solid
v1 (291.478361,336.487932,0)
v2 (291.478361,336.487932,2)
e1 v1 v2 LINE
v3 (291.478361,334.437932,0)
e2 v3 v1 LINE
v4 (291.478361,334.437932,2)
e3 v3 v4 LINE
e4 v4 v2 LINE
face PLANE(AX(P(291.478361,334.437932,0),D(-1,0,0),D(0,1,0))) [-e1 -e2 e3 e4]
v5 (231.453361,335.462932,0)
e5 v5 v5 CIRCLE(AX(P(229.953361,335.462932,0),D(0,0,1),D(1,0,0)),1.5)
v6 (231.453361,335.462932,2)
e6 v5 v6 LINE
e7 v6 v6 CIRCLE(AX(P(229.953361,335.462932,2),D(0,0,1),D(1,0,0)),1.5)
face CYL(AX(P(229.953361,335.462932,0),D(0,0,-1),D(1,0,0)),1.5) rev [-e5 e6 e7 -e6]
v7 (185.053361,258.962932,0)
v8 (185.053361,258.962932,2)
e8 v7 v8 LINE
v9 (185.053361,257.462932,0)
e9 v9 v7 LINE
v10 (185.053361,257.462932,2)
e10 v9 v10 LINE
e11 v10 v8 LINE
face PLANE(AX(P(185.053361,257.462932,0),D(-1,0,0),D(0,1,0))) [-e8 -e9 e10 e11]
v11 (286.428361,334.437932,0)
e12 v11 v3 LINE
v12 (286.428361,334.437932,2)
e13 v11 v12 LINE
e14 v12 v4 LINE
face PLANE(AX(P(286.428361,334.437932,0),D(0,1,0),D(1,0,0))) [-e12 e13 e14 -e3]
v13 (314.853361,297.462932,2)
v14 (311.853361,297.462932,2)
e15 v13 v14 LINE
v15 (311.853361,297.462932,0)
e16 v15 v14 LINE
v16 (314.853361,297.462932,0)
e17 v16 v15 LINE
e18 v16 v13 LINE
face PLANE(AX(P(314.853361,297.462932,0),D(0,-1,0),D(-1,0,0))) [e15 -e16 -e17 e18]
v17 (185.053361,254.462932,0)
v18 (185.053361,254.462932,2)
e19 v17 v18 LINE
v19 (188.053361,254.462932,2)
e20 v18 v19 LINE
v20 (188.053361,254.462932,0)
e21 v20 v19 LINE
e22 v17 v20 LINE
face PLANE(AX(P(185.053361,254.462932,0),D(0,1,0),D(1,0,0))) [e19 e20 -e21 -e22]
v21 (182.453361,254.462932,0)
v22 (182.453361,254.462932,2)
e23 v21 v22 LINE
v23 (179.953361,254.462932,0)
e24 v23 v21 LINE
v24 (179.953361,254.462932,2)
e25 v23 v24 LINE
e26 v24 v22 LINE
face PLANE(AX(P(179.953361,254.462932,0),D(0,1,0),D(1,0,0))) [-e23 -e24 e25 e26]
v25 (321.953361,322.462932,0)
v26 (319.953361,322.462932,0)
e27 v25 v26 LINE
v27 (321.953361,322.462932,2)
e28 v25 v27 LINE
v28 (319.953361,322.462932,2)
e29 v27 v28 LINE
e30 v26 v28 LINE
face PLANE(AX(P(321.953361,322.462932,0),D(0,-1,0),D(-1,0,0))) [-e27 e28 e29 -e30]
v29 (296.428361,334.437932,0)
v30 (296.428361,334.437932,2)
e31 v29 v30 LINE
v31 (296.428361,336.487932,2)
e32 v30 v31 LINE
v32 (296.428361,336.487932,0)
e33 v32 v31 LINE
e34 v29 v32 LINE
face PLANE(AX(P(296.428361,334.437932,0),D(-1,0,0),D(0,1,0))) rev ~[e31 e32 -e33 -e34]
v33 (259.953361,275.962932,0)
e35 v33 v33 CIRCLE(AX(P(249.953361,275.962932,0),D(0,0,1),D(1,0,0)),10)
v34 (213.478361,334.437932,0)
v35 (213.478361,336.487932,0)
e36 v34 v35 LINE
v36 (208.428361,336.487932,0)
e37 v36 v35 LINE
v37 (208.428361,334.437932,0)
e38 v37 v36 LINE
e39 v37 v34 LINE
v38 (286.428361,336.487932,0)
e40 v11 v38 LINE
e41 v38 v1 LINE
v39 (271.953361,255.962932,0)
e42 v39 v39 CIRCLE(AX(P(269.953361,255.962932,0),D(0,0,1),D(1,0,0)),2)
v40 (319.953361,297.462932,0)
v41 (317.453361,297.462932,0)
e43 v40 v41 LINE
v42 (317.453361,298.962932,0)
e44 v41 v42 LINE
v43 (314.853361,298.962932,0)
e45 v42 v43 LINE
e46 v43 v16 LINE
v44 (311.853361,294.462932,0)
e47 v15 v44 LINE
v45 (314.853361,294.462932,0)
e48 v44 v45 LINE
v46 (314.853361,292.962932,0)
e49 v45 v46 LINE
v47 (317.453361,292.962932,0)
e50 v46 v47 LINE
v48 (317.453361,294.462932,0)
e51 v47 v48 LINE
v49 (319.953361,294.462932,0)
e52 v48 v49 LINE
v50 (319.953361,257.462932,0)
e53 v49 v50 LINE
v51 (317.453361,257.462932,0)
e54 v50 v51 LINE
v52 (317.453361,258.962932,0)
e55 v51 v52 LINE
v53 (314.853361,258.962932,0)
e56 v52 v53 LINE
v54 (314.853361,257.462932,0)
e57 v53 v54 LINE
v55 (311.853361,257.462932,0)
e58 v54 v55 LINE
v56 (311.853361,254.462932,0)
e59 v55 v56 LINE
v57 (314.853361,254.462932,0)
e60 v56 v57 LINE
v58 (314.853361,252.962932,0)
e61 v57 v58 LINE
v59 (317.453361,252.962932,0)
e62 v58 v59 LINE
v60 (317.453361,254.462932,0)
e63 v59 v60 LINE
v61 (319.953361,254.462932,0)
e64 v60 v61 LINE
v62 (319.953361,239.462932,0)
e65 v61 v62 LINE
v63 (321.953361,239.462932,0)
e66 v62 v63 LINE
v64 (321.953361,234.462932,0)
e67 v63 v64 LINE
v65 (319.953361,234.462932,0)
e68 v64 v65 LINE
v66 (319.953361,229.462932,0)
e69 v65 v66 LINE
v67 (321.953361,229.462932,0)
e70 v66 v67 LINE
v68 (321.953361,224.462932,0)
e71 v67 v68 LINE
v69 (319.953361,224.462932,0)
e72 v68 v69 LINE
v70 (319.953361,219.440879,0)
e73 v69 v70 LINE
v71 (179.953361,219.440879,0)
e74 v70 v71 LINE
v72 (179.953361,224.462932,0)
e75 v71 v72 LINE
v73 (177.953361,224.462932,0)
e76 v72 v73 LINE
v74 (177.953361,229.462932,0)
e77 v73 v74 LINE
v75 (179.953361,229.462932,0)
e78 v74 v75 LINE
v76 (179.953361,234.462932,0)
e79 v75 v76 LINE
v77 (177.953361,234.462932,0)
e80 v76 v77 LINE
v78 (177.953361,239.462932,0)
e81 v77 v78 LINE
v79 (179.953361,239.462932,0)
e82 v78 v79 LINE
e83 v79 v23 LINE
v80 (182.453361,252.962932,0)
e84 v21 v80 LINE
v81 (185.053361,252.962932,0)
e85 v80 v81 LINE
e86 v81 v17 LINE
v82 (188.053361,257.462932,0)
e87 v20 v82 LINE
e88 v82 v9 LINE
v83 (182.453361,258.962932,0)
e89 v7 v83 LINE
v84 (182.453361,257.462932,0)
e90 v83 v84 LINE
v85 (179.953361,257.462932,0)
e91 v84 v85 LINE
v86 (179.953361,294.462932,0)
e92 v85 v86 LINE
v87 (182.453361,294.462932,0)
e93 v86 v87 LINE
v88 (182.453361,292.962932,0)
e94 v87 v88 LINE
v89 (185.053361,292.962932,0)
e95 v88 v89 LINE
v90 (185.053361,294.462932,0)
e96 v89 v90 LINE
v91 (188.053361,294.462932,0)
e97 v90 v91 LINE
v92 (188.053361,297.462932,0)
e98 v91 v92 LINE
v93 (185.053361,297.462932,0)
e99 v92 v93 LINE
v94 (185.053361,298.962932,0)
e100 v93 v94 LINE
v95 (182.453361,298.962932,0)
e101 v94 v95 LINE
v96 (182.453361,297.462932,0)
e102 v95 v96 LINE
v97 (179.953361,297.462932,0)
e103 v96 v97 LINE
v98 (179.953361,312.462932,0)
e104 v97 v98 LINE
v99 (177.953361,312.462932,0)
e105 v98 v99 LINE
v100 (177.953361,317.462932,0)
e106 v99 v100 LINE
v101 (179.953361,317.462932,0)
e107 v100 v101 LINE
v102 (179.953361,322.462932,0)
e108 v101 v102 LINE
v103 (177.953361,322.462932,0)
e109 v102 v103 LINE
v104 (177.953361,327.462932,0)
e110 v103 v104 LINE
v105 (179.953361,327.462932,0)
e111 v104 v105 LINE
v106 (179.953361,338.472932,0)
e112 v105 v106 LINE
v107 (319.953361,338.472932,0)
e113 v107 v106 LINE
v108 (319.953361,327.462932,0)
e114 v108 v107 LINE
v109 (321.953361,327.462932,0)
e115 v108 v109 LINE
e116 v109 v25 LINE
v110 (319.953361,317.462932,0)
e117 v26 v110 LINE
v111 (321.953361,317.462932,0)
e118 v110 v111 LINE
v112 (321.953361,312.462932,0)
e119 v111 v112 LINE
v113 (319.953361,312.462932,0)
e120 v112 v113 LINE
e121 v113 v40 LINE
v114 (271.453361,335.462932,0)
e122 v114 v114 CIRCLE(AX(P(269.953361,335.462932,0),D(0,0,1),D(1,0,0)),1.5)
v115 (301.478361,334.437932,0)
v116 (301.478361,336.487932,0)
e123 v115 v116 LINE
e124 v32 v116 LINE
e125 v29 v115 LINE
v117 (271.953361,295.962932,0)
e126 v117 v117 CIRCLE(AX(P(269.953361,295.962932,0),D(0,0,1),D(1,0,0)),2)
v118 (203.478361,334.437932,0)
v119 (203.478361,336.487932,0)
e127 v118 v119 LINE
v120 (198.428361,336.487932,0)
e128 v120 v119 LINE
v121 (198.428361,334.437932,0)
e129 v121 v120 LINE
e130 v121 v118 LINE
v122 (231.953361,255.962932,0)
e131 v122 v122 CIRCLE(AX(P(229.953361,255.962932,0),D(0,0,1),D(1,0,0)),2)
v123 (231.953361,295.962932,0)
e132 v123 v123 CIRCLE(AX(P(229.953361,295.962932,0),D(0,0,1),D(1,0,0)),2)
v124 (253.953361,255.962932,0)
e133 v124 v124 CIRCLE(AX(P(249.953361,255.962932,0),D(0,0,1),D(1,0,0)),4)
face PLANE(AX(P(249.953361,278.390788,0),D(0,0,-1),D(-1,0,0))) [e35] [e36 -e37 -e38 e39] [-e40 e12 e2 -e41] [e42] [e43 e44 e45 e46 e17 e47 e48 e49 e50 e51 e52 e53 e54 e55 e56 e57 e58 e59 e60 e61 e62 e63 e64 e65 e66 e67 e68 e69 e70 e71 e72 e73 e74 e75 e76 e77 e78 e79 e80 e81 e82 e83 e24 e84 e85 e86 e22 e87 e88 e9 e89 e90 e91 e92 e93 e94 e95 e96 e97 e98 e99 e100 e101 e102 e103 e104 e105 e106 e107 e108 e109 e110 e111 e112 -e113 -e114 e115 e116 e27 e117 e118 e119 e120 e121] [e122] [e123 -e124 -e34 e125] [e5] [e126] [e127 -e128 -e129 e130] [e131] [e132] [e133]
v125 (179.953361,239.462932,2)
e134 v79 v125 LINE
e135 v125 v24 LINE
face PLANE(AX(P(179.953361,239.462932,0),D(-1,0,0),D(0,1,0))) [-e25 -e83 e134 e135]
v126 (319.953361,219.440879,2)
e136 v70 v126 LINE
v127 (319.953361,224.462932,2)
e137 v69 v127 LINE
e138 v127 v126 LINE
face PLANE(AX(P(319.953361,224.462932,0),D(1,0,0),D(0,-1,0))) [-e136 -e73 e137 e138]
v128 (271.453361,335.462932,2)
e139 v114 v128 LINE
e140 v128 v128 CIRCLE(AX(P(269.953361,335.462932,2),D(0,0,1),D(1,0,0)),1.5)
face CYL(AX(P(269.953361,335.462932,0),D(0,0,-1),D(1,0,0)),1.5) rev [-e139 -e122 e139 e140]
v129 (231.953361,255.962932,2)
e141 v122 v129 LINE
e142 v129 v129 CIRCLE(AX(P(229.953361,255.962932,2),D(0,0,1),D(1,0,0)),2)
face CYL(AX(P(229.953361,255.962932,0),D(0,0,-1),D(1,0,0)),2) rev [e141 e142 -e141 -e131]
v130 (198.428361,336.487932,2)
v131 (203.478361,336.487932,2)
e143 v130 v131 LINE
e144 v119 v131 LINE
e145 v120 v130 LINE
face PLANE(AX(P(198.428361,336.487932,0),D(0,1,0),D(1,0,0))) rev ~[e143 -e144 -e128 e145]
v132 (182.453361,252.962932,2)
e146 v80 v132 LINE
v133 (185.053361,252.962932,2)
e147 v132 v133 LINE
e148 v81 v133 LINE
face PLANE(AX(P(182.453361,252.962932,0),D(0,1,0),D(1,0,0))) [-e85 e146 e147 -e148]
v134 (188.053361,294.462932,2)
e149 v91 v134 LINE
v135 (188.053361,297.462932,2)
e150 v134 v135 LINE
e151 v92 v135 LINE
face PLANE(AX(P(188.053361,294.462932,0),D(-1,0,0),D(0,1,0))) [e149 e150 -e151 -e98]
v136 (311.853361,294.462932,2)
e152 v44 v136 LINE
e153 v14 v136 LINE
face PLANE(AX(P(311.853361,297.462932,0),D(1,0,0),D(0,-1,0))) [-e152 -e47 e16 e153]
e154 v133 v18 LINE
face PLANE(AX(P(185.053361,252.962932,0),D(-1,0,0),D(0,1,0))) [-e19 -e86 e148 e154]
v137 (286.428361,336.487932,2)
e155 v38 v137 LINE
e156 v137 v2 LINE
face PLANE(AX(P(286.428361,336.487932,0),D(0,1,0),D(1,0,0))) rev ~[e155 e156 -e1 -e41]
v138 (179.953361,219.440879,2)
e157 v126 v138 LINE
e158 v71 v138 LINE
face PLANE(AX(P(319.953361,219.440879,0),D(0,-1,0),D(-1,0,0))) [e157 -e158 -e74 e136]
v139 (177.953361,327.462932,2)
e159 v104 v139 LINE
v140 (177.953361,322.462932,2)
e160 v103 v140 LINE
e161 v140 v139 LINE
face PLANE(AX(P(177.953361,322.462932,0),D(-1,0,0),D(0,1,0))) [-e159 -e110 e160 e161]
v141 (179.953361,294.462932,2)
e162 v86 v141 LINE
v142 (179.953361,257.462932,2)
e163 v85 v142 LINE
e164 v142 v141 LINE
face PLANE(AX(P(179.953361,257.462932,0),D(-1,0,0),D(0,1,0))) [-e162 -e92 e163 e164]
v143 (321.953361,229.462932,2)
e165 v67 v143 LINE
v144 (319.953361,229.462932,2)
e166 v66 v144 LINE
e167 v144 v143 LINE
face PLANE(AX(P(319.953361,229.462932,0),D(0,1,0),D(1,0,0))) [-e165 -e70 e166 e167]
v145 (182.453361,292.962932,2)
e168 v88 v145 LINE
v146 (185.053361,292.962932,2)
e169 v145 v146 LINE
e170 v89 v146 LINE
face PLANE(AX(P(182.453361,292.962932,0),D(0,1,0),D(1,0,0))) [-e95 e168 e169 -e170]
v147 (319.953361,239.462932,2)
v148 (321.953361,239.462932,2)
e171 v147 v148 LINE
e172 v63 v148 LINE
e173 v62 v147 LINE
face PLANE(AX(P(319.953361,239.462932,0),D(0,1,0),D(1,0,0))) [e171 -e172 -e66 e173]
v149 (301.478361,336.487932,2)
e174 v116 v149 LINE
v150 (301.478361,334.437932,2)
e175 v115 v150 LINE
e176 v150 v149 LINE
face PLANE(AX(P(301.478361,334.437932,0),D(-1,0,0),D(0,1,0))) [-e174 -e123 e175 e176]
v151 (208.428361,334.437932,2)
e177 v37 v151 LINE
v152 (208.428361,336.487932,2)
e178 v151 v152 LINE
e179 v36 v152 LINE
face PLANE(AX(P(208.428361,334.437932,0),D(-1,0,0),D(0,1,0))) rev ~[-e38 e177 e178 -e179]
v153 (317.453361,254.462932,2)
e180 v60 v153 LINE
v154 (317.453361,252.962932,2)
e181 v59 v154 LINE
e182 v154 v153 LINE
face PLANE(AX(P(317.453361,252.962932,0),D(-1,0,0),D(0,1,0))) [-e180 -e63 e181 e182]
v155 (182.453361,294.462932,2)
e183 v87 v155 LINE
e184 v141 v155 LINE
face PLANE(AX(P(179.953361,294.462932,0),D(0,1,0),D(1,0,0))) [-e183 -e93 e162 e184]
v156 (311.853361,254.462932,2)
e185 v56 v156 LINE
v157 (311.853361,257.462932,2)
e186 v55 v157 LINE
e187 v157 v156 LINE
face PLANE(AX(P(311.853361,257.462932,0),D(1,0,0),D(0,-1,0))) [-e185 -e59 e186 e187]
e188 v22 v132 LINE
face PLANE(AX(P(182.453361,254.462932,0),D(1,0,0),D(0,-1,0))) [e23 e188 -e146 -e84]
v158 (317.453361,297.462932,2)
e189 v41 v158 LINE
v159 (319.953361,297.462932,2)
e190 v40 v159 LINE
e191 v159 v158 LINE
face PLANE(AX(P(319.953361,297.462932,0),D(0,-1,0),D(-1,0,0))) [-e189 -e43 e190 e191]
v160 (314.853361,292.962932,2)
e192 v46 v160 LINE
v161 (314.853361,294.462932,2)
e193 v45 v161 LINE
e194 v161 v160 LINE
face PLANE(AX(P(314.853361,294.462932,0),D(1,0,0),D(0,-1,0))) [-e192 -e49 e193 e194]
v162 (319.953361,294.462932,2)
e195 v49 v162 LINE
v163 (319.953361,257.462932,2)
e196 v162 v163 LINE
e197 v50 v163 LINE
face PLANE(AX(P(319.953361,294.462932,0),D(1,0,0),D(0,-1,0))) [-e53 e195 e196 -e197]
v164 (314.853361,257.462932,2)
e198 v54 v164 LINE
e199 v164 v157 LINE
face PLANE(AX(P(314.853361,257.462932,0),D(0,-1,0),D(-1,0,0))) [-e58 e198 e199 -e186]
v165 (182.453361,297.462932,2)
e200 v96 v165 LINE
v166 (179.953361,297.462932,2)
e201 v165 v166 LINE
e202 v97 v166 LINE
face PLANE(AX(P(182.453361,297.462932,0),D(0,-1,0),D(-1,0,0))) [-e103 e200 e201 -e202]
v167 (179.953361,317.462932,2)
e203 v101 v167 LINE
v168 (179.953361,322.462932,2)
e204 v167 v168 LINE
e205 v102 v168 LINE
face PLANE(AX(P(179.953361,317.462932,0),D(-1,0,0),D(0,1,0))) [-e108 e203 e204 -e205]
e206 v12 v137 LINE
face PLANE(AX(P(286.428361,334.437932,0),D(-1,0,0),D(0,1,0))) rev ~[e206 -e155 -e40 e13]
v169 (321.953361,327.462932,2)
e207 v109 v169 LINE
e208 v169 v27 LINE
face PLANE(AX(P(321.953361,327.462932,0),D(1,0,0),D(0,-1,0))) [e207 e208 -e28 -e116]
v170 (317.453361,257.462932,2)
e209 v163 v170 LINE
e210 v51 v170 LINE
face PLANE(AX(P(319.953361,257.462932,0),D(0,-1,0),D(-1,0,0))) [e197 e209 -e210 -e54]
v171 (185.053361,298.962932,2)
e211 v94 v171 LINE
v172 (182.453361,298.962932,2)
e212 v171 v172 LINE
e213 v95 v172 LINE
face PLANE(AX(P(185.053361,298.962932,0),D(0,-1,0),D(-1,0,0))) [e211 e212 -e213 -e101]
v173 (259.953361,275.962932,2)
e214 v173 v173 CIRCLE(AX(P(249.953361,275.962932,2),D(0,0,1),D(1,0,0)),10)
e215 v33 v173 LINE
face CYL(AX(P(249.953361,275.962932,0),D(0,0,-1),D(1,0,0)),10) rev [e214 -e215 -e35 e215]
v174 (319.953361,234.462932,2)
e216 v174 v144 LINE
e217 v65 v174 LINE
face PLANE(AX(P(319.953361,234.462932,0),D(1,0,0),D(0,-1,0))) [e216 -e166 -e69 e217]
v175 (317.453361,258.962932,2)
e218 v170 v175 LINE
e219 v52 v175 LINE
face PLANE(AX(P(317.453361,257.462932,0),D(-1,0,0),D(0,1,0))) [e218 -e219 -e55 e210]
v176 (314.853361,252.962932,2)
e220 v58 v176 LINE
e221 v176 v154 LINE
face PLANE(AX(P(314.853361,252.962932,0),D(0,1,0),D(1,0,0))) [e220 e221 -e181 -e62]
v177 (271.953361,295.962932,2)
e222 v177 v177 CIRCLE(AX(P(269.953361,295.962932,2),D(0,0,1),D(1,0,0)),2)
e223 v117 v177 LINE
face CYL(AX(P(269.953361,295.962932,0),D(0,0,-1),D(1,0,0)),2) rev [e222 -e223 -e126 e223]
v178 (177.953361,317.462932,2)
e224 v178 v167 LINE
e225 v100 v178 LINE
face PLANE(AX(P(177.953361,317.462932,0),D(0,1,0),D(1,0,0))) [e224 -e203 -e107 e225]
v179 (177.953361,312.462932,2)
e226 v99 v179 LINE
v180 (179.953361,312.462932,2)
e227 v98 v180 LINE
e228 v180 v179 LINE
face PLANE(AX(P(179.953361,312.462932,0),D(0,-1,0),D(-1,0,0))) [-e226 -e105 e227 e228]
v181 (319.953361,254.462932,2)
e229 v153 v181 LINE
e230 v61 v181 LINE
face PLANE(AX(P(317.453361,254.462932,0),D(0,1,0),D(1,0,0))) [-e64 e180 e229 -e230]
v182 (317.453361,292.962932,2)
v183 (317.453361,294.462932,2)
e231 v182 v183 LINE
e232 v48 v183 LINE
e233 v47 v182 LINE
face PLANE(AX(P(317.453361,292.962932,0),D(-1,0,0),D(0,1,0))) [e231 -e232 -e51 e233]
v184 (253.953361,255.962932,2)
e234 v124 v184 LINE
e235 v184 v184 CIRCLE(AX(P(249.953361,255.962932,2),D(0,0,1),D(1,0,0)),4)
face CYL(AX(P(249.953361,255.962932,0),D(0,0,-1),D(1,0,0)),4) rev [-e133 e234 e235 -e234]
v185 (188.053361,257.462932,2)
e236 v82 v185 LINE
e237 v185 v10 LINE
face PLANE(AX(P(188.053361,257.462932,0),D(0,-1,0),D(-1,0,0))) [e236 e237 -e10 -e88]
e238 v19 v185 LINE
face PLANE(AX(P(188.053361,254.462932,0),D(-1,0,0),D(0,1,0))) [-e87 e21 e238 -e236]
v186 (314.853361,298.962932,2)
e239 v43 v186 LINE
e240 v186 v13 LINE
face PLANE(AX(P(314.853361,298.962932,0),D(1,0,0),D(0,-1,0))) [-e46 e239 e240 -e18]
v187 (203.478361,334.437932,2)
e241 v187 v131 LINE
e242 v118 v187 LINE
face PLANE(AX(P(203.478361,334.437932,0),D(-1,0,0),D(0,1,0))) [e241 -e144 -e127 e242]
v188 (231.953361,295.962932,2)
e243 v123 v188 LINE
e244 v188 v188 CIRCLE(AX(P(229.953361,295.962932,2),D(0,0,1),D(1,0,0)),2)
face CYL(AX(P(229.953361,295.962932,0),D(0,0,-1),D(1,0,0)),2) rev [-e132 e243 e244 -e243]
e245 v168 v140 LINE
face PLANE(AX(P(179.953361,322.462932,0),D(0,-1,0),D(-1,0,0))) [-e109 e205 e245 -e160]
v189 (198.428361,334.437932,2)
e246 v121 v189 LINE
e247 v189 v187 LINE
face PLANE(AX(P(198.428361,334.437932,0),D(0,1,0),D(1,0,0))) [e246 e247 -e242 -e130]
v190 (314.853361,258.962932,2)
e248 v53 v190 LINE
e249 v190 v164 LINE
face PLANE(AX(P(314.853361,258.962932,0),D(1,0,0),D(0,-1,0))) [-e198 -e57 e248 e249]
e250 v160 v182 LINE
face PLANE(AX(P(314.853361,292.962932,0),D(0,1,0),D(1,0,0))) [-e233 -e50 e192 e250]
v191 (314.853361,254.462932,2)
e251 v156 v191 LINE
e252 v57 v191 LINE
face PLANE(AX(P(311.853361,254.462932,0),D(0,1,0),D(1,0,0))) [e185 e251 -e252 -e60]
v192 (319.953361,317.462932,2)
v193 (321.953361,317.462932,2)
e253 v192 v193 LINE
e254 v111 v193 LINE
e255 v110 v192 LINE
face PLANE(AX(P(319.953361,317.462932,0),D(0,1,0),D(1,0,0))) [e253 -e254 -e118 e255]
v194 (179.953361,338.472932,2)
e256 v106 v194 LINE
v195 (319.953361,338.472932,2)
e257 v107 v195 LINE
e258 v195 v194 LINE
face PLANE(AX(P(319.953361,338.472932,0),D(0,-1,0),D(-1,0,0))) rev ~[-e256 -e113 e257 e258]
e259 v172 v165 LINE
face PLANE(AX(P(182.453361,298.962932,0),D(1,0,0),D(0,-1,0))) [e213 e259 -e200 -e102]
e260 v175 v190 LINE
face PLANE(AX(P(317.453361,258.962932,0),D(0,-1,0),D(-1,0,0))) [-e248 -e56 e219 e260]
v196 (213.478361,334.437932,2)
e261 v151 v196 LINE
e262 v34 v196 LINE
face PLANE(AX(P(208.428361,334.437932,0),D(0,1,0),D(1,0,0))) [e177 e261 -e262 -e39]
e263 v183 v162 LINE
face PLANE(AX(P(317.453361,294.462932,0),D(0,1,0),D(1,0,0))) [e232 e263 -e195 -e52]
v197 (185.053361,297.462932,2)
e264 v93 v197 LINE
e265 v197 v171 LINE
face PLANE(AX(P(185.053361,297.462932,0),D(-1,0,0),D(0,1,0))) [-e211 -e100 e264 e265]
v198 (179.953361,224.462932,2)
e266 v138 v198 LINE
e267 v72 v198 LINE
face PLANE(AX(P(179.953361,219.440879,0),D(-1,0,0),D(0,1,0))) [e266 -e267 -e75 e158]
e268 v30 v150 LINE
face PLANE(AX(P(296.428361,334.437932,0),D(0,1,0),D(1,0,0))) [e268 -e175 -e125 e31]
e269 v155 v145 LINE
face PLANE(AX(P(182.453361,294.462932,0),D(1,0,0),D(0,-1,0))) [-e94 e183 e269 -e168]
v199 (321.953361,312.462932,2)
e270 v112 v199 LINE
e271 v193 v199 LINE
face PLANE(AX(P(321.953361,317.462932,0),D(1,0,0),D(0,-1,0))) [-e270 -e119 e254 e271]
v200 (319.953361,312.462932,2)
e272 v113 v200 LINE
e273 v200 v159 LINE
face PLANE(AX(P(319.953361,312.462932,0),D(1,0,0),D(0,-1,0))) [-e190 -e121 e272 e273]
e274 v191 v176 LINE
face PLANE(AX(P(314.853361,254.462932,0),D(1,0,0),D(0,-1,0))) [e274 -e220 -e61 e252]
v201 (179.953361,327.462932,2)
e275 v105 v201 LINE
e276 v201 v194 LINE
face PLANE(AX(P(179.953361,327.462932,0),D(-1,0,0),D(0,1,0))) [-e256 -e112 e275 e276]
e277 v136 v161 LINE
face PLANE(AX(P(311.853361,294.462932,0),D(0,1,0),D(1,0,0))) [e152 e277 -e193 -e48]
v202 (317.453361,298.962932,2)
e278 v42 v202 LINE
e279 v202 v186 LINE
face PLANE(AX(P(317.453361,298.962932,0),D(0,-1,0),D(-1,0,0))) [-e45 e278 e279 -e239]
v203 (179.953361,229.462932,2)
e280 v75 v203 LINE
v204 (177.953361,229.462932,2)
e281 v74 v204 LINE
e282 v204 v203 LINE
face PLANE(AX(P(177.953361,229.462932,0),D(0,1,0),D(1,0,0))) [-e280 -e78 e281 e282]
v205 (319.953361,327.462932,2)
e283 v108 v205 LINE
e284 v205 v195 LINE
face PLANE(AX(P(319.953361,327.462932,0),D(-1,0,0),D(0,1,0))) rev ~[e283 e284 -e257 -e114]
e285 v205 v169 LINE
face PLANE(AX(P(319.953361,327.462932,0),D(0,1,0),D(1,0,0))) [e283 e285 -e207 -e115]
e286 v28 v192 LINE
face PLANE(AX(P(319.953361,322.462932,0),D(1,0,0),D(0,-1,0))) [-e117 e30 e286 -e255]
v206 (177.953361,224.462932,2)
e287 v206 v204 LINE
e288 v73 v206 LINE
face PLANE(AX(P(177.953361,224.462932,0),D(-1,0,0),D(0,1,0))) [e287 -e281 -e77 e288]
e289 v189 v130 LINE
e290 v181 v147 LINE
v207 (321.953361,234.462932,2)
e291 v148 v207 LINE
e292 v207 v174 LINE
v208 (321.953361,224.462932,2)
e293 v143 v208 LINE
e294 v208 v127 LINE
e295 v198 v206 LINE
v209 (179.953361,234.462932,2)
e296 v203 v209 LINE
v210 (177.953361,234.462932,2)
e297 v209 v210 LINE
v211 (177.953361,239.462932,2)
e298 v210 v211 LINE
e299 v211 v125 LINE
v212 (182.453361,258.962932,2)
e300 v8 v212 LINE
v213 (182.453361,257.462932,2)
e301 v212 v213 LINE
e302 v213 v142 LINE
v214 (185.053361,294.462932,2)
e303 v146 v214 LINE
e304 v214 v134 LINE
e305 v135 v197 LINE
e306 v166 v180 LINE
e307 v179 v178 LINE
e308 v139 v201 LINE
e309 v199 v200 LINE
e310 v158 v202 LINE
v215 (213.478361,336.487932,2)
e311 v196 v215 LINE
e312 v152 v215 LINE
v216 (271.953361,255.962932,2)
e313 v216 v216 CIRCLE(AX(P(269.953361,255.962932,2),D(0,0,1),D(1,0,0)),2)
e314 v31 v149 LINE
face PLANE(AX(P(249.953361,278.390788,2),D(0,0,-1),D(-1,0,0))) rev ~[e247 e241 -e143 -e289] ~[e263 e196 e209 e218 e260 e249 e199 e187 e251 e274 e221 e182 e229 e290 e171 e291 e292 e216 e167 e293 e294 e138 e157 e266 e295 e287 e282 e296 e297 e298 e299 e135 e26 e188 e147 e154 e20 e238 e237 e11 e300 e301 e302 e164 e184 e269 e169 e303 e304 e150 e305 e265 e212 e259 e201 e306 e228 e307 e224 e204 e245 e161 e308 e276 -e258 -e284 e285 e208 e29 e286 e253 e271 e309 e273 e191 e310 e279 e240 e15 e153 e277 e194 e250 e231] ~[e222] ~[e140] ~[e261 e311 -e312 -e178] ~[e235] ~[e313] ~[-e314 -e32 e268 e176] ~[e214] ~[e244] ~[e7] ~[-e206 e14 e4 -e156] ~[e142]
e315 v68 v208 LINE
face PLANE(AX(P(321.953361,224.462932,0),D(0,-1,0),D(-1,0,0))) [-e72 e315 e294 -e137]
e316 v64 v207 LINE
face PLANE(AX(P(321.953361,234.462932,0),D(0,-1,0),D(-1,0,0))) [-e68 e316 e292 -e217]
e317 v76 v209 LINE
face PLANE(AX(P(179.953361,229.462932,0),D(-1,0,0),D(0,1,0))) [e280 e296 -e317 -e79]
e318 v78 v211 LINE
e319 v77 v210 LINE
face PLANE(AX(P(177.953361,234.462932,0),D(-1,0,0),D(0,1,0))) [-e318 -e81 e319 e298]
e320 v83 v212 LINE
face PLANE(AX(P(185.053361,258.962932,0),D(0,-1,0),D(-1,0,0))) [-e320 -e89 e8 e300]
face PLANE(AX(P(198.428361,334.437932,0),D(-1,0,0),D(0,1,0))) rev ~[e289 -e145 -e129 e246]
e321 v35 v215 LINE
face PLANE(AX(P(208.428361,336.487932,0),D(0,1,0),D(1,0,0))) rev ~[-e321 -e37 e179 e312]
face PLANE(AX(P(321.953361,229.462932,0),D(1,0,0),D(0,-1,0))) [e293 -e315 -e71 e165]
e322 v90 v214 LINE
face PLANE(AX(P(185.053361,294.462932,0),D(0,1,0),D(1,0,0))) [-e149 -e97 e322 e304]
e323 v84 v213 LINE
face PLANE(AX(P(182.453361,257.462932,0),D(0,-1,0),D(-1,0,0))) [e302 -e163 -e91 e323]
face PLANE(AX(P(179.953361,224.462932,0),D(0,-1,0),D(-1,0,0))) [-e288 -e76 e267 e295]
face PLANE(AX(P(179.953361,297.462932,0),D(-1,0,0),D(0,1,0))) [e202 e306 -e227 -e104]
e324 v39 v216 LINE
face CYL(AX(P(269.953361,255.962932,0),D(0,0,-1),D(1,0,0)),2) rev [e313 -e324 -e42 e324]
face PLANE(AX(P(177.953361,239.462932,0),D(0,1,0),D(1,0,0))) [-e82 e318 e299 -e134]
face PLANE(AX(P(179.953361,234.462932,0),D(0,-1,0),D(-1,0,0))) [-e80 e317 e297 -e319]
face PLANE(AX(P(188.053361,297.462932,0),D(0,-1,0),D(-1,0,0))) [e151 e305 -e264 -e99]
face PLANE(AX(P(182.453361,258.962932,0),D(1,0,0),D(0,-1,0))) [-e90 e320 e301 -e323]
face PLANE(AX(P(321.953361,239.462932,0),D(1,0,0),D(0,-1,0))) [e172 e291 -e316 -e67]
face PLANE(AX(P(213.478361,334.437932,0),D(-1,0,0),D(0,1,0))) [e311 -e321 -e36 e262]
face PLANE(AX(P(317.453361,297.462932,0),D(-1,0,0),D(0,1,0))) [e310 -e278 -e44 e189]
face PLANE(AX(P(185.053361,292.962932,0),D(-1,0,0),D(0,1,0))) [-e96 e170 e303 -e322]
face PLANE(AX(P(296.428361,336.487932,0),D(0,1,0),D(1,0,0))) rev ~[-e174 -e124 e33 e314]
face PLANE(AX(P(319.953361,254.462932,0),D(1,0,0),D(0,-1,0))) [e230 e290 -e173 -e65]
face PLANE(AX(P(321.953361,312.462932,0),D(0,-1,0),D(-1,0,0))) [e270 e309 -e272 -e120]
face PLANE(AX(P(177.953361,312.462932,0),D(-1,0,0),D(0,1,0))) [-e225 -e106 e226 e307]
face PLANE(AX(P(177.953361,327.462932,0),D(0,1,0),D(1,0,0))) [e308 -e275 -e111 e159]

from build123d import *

# Parameters (mm, degrees)
SKETCH_1_R      = 10
SKETCH_1_R_2    = 4
SKETCH_1_R_3    = 1.5
SKETCH_1_R_4    = 2
SKETCH_1_W      = 5.05
SKETCH_1_H      = 2.05
EXTRUDE_1_DEPTH = 2


with BuildPart() as part:
    # 草图1 → 凸台-拉伸1 (new body)
    with BuildSketch(Plane.XY):
        Polygon((317.453360513, 257.462931603), (317.453360513, 258.962931602), (314.853360513, 258.962931602), (314.853360513, 257.462931603), (311.853360513, 257.462931603), (311.853360513, 254.462931603), (314.853360513, 254.462931603), (314.853360513, 252.962931603), (317.453360513, 252.962931603), (317.453360513, 254.462931603), (319.953360513, 254.462931603), (319.953360513, 239.462931603), (321.953360513, 239.462931603), (321.953360513, 234.462931603), (319.953360513, 234.462931603), (319.953360513, 229.462931603), (321.953360513, 229.462931603), (321.953360513, 224.462931603), (319.953360513, 224.462931603), (319.953360513, 219.440879401), (179.953360513, 219.440879401), (179.953360513, 224.462931603), (177.953360513, 224.462931603), (177.953360513, 229.462931603), (179.953360513, 229.462931603), (179.953360513, 234.462931603), (177.953360513, 234.462931603), (177.953360513, 239.462931603), (179.953360513, 239.462931603), (179.953360513, 254.462931603), (182.453360513, 254.462931603), (182.453360513, 252.962931603), (185.053360513, 252.962931603), (185.053360513, 254.462931603), (188.053360513, 254.462931603), (188.053360513, 257.462931603), (185.053360513, 257.462931603), (185.053360513, 258.962931602), (182.453360513, 258.962931602), (182.453360513, 257.462931603), (179.953360513, 257.462931603), (179.953360513, 294.462931603), (182.453360513, 294.462931603), (182.453360513, 292.962931603), (185.053360513, 292.962931603), (185.053360513, 294.462931603), (188.053360513, 294.462931603), (188.053360513, 297.462931603), (185.053360513, 297.462931603), (185.053360513, 298.962931603), (182.453360513, 298.962931603), (182.453360513, 297.462931603), (179.953360513, 297.462931603), (179.953360513, 312.462931603), (177.953360513, 312.462931603), (177.953360513, 317.462931603), (179.953360513, 317.462931603), (179.953360513, 322.462931603), (177.953360513, 322.462931603), (177.953360513, 327.462931603), (179.953360513, 327.462931603), (179.953360513, 338.472931603), (317.453360513, 338.472931603), (319.953360513, 338.472931603), (319.953360513, 330.982931603), (319.953360513, 327.462931603), (321.953360513, 327.462931603), (321.953360513, 322.462931603), (319.953360513, 322.462931603), (319.953360513, 317.462931603), (321.953360513, 317.462931603), (321.953360513, 312.462931603), (319.953360513, 312.462931603), (319.953360513, 297.462931603), (317.453360513, 297.462931603), (317.453360513, 298.962931603), (314.853360513, 298.962931603), (314.853360513, 297.462931603), (311.853360513, 297.462931603), (311.853360513, 294.462931603), (314.853360513, 294.462931603), (314.853360513, 292.962931603), (317.453360513, 292.962931603), (317.453360513, 294.462931603), (319.953360513, 294.462931603), (319.953360513, 257.462931603), align=None)
        with Locations((249.953360513, 275.962931603)):
            Circle(SKETCH_1_R, mode=Mode.SUBTRACT)
        with Locations((249.953360513, 255.962931603)):
            Circle(SKETCH_1_R_2, mode=Mode.SUBTRACT)
        with Locations((229.953360513, 335.462931603)):
            Circle(SKETCH_1_R_3, mode=Mode.SUBTRACT)
        with Locations((269.953360513, 335.462931603)):
            Circle(SKETCH_1_R_3, mode=Mode.SUBTRACT)
        with Locations((229.953360513, 255.962931603)):
            Circle(SKETCH_1_R_4, mode=Mode.SUBTRACT)
        with Locations((229.953360513, 295.962931603)):
            Circle(SKETCH_1_R_4, mode=Mode.SUBTRACT)
        with Locations((269.953360513, 295.962931603)):
            Circle(SKETCH_1_R_4, mode=Mode.SUBTRACT)
        with Locations((269.953360513, 255.962931603)):
            Circle(SKETCH_1_R_4, mode=Mode.SUBTRACT)
        with Locations((288.953360513, 335.462931603)):
            Rectangle(SKETCH_1_W, SKETCH_1_H, mode=Mode.SUBTRACT)
        with Locations((298.953360513, 335.462931603)):
            Rectangle(SKETCH_1_W, SKETCH_1_H, mode=Mode.SUBTRACT)
        with Locations((200.953360513, 335.462931603)):
            Rectangle(SKETCH_1_W, SKETCH_1_H, mode=Mode.SUBTRACT)
        with Locations((210.953360513, 335.462931603)):
            Rectangle(SKETCH_1_W, SKETCH_1_H, mode=Mode.SUBTRACT)
    extrude(amount=EXTRUDE_1_DEPTH)


solid = part.part
